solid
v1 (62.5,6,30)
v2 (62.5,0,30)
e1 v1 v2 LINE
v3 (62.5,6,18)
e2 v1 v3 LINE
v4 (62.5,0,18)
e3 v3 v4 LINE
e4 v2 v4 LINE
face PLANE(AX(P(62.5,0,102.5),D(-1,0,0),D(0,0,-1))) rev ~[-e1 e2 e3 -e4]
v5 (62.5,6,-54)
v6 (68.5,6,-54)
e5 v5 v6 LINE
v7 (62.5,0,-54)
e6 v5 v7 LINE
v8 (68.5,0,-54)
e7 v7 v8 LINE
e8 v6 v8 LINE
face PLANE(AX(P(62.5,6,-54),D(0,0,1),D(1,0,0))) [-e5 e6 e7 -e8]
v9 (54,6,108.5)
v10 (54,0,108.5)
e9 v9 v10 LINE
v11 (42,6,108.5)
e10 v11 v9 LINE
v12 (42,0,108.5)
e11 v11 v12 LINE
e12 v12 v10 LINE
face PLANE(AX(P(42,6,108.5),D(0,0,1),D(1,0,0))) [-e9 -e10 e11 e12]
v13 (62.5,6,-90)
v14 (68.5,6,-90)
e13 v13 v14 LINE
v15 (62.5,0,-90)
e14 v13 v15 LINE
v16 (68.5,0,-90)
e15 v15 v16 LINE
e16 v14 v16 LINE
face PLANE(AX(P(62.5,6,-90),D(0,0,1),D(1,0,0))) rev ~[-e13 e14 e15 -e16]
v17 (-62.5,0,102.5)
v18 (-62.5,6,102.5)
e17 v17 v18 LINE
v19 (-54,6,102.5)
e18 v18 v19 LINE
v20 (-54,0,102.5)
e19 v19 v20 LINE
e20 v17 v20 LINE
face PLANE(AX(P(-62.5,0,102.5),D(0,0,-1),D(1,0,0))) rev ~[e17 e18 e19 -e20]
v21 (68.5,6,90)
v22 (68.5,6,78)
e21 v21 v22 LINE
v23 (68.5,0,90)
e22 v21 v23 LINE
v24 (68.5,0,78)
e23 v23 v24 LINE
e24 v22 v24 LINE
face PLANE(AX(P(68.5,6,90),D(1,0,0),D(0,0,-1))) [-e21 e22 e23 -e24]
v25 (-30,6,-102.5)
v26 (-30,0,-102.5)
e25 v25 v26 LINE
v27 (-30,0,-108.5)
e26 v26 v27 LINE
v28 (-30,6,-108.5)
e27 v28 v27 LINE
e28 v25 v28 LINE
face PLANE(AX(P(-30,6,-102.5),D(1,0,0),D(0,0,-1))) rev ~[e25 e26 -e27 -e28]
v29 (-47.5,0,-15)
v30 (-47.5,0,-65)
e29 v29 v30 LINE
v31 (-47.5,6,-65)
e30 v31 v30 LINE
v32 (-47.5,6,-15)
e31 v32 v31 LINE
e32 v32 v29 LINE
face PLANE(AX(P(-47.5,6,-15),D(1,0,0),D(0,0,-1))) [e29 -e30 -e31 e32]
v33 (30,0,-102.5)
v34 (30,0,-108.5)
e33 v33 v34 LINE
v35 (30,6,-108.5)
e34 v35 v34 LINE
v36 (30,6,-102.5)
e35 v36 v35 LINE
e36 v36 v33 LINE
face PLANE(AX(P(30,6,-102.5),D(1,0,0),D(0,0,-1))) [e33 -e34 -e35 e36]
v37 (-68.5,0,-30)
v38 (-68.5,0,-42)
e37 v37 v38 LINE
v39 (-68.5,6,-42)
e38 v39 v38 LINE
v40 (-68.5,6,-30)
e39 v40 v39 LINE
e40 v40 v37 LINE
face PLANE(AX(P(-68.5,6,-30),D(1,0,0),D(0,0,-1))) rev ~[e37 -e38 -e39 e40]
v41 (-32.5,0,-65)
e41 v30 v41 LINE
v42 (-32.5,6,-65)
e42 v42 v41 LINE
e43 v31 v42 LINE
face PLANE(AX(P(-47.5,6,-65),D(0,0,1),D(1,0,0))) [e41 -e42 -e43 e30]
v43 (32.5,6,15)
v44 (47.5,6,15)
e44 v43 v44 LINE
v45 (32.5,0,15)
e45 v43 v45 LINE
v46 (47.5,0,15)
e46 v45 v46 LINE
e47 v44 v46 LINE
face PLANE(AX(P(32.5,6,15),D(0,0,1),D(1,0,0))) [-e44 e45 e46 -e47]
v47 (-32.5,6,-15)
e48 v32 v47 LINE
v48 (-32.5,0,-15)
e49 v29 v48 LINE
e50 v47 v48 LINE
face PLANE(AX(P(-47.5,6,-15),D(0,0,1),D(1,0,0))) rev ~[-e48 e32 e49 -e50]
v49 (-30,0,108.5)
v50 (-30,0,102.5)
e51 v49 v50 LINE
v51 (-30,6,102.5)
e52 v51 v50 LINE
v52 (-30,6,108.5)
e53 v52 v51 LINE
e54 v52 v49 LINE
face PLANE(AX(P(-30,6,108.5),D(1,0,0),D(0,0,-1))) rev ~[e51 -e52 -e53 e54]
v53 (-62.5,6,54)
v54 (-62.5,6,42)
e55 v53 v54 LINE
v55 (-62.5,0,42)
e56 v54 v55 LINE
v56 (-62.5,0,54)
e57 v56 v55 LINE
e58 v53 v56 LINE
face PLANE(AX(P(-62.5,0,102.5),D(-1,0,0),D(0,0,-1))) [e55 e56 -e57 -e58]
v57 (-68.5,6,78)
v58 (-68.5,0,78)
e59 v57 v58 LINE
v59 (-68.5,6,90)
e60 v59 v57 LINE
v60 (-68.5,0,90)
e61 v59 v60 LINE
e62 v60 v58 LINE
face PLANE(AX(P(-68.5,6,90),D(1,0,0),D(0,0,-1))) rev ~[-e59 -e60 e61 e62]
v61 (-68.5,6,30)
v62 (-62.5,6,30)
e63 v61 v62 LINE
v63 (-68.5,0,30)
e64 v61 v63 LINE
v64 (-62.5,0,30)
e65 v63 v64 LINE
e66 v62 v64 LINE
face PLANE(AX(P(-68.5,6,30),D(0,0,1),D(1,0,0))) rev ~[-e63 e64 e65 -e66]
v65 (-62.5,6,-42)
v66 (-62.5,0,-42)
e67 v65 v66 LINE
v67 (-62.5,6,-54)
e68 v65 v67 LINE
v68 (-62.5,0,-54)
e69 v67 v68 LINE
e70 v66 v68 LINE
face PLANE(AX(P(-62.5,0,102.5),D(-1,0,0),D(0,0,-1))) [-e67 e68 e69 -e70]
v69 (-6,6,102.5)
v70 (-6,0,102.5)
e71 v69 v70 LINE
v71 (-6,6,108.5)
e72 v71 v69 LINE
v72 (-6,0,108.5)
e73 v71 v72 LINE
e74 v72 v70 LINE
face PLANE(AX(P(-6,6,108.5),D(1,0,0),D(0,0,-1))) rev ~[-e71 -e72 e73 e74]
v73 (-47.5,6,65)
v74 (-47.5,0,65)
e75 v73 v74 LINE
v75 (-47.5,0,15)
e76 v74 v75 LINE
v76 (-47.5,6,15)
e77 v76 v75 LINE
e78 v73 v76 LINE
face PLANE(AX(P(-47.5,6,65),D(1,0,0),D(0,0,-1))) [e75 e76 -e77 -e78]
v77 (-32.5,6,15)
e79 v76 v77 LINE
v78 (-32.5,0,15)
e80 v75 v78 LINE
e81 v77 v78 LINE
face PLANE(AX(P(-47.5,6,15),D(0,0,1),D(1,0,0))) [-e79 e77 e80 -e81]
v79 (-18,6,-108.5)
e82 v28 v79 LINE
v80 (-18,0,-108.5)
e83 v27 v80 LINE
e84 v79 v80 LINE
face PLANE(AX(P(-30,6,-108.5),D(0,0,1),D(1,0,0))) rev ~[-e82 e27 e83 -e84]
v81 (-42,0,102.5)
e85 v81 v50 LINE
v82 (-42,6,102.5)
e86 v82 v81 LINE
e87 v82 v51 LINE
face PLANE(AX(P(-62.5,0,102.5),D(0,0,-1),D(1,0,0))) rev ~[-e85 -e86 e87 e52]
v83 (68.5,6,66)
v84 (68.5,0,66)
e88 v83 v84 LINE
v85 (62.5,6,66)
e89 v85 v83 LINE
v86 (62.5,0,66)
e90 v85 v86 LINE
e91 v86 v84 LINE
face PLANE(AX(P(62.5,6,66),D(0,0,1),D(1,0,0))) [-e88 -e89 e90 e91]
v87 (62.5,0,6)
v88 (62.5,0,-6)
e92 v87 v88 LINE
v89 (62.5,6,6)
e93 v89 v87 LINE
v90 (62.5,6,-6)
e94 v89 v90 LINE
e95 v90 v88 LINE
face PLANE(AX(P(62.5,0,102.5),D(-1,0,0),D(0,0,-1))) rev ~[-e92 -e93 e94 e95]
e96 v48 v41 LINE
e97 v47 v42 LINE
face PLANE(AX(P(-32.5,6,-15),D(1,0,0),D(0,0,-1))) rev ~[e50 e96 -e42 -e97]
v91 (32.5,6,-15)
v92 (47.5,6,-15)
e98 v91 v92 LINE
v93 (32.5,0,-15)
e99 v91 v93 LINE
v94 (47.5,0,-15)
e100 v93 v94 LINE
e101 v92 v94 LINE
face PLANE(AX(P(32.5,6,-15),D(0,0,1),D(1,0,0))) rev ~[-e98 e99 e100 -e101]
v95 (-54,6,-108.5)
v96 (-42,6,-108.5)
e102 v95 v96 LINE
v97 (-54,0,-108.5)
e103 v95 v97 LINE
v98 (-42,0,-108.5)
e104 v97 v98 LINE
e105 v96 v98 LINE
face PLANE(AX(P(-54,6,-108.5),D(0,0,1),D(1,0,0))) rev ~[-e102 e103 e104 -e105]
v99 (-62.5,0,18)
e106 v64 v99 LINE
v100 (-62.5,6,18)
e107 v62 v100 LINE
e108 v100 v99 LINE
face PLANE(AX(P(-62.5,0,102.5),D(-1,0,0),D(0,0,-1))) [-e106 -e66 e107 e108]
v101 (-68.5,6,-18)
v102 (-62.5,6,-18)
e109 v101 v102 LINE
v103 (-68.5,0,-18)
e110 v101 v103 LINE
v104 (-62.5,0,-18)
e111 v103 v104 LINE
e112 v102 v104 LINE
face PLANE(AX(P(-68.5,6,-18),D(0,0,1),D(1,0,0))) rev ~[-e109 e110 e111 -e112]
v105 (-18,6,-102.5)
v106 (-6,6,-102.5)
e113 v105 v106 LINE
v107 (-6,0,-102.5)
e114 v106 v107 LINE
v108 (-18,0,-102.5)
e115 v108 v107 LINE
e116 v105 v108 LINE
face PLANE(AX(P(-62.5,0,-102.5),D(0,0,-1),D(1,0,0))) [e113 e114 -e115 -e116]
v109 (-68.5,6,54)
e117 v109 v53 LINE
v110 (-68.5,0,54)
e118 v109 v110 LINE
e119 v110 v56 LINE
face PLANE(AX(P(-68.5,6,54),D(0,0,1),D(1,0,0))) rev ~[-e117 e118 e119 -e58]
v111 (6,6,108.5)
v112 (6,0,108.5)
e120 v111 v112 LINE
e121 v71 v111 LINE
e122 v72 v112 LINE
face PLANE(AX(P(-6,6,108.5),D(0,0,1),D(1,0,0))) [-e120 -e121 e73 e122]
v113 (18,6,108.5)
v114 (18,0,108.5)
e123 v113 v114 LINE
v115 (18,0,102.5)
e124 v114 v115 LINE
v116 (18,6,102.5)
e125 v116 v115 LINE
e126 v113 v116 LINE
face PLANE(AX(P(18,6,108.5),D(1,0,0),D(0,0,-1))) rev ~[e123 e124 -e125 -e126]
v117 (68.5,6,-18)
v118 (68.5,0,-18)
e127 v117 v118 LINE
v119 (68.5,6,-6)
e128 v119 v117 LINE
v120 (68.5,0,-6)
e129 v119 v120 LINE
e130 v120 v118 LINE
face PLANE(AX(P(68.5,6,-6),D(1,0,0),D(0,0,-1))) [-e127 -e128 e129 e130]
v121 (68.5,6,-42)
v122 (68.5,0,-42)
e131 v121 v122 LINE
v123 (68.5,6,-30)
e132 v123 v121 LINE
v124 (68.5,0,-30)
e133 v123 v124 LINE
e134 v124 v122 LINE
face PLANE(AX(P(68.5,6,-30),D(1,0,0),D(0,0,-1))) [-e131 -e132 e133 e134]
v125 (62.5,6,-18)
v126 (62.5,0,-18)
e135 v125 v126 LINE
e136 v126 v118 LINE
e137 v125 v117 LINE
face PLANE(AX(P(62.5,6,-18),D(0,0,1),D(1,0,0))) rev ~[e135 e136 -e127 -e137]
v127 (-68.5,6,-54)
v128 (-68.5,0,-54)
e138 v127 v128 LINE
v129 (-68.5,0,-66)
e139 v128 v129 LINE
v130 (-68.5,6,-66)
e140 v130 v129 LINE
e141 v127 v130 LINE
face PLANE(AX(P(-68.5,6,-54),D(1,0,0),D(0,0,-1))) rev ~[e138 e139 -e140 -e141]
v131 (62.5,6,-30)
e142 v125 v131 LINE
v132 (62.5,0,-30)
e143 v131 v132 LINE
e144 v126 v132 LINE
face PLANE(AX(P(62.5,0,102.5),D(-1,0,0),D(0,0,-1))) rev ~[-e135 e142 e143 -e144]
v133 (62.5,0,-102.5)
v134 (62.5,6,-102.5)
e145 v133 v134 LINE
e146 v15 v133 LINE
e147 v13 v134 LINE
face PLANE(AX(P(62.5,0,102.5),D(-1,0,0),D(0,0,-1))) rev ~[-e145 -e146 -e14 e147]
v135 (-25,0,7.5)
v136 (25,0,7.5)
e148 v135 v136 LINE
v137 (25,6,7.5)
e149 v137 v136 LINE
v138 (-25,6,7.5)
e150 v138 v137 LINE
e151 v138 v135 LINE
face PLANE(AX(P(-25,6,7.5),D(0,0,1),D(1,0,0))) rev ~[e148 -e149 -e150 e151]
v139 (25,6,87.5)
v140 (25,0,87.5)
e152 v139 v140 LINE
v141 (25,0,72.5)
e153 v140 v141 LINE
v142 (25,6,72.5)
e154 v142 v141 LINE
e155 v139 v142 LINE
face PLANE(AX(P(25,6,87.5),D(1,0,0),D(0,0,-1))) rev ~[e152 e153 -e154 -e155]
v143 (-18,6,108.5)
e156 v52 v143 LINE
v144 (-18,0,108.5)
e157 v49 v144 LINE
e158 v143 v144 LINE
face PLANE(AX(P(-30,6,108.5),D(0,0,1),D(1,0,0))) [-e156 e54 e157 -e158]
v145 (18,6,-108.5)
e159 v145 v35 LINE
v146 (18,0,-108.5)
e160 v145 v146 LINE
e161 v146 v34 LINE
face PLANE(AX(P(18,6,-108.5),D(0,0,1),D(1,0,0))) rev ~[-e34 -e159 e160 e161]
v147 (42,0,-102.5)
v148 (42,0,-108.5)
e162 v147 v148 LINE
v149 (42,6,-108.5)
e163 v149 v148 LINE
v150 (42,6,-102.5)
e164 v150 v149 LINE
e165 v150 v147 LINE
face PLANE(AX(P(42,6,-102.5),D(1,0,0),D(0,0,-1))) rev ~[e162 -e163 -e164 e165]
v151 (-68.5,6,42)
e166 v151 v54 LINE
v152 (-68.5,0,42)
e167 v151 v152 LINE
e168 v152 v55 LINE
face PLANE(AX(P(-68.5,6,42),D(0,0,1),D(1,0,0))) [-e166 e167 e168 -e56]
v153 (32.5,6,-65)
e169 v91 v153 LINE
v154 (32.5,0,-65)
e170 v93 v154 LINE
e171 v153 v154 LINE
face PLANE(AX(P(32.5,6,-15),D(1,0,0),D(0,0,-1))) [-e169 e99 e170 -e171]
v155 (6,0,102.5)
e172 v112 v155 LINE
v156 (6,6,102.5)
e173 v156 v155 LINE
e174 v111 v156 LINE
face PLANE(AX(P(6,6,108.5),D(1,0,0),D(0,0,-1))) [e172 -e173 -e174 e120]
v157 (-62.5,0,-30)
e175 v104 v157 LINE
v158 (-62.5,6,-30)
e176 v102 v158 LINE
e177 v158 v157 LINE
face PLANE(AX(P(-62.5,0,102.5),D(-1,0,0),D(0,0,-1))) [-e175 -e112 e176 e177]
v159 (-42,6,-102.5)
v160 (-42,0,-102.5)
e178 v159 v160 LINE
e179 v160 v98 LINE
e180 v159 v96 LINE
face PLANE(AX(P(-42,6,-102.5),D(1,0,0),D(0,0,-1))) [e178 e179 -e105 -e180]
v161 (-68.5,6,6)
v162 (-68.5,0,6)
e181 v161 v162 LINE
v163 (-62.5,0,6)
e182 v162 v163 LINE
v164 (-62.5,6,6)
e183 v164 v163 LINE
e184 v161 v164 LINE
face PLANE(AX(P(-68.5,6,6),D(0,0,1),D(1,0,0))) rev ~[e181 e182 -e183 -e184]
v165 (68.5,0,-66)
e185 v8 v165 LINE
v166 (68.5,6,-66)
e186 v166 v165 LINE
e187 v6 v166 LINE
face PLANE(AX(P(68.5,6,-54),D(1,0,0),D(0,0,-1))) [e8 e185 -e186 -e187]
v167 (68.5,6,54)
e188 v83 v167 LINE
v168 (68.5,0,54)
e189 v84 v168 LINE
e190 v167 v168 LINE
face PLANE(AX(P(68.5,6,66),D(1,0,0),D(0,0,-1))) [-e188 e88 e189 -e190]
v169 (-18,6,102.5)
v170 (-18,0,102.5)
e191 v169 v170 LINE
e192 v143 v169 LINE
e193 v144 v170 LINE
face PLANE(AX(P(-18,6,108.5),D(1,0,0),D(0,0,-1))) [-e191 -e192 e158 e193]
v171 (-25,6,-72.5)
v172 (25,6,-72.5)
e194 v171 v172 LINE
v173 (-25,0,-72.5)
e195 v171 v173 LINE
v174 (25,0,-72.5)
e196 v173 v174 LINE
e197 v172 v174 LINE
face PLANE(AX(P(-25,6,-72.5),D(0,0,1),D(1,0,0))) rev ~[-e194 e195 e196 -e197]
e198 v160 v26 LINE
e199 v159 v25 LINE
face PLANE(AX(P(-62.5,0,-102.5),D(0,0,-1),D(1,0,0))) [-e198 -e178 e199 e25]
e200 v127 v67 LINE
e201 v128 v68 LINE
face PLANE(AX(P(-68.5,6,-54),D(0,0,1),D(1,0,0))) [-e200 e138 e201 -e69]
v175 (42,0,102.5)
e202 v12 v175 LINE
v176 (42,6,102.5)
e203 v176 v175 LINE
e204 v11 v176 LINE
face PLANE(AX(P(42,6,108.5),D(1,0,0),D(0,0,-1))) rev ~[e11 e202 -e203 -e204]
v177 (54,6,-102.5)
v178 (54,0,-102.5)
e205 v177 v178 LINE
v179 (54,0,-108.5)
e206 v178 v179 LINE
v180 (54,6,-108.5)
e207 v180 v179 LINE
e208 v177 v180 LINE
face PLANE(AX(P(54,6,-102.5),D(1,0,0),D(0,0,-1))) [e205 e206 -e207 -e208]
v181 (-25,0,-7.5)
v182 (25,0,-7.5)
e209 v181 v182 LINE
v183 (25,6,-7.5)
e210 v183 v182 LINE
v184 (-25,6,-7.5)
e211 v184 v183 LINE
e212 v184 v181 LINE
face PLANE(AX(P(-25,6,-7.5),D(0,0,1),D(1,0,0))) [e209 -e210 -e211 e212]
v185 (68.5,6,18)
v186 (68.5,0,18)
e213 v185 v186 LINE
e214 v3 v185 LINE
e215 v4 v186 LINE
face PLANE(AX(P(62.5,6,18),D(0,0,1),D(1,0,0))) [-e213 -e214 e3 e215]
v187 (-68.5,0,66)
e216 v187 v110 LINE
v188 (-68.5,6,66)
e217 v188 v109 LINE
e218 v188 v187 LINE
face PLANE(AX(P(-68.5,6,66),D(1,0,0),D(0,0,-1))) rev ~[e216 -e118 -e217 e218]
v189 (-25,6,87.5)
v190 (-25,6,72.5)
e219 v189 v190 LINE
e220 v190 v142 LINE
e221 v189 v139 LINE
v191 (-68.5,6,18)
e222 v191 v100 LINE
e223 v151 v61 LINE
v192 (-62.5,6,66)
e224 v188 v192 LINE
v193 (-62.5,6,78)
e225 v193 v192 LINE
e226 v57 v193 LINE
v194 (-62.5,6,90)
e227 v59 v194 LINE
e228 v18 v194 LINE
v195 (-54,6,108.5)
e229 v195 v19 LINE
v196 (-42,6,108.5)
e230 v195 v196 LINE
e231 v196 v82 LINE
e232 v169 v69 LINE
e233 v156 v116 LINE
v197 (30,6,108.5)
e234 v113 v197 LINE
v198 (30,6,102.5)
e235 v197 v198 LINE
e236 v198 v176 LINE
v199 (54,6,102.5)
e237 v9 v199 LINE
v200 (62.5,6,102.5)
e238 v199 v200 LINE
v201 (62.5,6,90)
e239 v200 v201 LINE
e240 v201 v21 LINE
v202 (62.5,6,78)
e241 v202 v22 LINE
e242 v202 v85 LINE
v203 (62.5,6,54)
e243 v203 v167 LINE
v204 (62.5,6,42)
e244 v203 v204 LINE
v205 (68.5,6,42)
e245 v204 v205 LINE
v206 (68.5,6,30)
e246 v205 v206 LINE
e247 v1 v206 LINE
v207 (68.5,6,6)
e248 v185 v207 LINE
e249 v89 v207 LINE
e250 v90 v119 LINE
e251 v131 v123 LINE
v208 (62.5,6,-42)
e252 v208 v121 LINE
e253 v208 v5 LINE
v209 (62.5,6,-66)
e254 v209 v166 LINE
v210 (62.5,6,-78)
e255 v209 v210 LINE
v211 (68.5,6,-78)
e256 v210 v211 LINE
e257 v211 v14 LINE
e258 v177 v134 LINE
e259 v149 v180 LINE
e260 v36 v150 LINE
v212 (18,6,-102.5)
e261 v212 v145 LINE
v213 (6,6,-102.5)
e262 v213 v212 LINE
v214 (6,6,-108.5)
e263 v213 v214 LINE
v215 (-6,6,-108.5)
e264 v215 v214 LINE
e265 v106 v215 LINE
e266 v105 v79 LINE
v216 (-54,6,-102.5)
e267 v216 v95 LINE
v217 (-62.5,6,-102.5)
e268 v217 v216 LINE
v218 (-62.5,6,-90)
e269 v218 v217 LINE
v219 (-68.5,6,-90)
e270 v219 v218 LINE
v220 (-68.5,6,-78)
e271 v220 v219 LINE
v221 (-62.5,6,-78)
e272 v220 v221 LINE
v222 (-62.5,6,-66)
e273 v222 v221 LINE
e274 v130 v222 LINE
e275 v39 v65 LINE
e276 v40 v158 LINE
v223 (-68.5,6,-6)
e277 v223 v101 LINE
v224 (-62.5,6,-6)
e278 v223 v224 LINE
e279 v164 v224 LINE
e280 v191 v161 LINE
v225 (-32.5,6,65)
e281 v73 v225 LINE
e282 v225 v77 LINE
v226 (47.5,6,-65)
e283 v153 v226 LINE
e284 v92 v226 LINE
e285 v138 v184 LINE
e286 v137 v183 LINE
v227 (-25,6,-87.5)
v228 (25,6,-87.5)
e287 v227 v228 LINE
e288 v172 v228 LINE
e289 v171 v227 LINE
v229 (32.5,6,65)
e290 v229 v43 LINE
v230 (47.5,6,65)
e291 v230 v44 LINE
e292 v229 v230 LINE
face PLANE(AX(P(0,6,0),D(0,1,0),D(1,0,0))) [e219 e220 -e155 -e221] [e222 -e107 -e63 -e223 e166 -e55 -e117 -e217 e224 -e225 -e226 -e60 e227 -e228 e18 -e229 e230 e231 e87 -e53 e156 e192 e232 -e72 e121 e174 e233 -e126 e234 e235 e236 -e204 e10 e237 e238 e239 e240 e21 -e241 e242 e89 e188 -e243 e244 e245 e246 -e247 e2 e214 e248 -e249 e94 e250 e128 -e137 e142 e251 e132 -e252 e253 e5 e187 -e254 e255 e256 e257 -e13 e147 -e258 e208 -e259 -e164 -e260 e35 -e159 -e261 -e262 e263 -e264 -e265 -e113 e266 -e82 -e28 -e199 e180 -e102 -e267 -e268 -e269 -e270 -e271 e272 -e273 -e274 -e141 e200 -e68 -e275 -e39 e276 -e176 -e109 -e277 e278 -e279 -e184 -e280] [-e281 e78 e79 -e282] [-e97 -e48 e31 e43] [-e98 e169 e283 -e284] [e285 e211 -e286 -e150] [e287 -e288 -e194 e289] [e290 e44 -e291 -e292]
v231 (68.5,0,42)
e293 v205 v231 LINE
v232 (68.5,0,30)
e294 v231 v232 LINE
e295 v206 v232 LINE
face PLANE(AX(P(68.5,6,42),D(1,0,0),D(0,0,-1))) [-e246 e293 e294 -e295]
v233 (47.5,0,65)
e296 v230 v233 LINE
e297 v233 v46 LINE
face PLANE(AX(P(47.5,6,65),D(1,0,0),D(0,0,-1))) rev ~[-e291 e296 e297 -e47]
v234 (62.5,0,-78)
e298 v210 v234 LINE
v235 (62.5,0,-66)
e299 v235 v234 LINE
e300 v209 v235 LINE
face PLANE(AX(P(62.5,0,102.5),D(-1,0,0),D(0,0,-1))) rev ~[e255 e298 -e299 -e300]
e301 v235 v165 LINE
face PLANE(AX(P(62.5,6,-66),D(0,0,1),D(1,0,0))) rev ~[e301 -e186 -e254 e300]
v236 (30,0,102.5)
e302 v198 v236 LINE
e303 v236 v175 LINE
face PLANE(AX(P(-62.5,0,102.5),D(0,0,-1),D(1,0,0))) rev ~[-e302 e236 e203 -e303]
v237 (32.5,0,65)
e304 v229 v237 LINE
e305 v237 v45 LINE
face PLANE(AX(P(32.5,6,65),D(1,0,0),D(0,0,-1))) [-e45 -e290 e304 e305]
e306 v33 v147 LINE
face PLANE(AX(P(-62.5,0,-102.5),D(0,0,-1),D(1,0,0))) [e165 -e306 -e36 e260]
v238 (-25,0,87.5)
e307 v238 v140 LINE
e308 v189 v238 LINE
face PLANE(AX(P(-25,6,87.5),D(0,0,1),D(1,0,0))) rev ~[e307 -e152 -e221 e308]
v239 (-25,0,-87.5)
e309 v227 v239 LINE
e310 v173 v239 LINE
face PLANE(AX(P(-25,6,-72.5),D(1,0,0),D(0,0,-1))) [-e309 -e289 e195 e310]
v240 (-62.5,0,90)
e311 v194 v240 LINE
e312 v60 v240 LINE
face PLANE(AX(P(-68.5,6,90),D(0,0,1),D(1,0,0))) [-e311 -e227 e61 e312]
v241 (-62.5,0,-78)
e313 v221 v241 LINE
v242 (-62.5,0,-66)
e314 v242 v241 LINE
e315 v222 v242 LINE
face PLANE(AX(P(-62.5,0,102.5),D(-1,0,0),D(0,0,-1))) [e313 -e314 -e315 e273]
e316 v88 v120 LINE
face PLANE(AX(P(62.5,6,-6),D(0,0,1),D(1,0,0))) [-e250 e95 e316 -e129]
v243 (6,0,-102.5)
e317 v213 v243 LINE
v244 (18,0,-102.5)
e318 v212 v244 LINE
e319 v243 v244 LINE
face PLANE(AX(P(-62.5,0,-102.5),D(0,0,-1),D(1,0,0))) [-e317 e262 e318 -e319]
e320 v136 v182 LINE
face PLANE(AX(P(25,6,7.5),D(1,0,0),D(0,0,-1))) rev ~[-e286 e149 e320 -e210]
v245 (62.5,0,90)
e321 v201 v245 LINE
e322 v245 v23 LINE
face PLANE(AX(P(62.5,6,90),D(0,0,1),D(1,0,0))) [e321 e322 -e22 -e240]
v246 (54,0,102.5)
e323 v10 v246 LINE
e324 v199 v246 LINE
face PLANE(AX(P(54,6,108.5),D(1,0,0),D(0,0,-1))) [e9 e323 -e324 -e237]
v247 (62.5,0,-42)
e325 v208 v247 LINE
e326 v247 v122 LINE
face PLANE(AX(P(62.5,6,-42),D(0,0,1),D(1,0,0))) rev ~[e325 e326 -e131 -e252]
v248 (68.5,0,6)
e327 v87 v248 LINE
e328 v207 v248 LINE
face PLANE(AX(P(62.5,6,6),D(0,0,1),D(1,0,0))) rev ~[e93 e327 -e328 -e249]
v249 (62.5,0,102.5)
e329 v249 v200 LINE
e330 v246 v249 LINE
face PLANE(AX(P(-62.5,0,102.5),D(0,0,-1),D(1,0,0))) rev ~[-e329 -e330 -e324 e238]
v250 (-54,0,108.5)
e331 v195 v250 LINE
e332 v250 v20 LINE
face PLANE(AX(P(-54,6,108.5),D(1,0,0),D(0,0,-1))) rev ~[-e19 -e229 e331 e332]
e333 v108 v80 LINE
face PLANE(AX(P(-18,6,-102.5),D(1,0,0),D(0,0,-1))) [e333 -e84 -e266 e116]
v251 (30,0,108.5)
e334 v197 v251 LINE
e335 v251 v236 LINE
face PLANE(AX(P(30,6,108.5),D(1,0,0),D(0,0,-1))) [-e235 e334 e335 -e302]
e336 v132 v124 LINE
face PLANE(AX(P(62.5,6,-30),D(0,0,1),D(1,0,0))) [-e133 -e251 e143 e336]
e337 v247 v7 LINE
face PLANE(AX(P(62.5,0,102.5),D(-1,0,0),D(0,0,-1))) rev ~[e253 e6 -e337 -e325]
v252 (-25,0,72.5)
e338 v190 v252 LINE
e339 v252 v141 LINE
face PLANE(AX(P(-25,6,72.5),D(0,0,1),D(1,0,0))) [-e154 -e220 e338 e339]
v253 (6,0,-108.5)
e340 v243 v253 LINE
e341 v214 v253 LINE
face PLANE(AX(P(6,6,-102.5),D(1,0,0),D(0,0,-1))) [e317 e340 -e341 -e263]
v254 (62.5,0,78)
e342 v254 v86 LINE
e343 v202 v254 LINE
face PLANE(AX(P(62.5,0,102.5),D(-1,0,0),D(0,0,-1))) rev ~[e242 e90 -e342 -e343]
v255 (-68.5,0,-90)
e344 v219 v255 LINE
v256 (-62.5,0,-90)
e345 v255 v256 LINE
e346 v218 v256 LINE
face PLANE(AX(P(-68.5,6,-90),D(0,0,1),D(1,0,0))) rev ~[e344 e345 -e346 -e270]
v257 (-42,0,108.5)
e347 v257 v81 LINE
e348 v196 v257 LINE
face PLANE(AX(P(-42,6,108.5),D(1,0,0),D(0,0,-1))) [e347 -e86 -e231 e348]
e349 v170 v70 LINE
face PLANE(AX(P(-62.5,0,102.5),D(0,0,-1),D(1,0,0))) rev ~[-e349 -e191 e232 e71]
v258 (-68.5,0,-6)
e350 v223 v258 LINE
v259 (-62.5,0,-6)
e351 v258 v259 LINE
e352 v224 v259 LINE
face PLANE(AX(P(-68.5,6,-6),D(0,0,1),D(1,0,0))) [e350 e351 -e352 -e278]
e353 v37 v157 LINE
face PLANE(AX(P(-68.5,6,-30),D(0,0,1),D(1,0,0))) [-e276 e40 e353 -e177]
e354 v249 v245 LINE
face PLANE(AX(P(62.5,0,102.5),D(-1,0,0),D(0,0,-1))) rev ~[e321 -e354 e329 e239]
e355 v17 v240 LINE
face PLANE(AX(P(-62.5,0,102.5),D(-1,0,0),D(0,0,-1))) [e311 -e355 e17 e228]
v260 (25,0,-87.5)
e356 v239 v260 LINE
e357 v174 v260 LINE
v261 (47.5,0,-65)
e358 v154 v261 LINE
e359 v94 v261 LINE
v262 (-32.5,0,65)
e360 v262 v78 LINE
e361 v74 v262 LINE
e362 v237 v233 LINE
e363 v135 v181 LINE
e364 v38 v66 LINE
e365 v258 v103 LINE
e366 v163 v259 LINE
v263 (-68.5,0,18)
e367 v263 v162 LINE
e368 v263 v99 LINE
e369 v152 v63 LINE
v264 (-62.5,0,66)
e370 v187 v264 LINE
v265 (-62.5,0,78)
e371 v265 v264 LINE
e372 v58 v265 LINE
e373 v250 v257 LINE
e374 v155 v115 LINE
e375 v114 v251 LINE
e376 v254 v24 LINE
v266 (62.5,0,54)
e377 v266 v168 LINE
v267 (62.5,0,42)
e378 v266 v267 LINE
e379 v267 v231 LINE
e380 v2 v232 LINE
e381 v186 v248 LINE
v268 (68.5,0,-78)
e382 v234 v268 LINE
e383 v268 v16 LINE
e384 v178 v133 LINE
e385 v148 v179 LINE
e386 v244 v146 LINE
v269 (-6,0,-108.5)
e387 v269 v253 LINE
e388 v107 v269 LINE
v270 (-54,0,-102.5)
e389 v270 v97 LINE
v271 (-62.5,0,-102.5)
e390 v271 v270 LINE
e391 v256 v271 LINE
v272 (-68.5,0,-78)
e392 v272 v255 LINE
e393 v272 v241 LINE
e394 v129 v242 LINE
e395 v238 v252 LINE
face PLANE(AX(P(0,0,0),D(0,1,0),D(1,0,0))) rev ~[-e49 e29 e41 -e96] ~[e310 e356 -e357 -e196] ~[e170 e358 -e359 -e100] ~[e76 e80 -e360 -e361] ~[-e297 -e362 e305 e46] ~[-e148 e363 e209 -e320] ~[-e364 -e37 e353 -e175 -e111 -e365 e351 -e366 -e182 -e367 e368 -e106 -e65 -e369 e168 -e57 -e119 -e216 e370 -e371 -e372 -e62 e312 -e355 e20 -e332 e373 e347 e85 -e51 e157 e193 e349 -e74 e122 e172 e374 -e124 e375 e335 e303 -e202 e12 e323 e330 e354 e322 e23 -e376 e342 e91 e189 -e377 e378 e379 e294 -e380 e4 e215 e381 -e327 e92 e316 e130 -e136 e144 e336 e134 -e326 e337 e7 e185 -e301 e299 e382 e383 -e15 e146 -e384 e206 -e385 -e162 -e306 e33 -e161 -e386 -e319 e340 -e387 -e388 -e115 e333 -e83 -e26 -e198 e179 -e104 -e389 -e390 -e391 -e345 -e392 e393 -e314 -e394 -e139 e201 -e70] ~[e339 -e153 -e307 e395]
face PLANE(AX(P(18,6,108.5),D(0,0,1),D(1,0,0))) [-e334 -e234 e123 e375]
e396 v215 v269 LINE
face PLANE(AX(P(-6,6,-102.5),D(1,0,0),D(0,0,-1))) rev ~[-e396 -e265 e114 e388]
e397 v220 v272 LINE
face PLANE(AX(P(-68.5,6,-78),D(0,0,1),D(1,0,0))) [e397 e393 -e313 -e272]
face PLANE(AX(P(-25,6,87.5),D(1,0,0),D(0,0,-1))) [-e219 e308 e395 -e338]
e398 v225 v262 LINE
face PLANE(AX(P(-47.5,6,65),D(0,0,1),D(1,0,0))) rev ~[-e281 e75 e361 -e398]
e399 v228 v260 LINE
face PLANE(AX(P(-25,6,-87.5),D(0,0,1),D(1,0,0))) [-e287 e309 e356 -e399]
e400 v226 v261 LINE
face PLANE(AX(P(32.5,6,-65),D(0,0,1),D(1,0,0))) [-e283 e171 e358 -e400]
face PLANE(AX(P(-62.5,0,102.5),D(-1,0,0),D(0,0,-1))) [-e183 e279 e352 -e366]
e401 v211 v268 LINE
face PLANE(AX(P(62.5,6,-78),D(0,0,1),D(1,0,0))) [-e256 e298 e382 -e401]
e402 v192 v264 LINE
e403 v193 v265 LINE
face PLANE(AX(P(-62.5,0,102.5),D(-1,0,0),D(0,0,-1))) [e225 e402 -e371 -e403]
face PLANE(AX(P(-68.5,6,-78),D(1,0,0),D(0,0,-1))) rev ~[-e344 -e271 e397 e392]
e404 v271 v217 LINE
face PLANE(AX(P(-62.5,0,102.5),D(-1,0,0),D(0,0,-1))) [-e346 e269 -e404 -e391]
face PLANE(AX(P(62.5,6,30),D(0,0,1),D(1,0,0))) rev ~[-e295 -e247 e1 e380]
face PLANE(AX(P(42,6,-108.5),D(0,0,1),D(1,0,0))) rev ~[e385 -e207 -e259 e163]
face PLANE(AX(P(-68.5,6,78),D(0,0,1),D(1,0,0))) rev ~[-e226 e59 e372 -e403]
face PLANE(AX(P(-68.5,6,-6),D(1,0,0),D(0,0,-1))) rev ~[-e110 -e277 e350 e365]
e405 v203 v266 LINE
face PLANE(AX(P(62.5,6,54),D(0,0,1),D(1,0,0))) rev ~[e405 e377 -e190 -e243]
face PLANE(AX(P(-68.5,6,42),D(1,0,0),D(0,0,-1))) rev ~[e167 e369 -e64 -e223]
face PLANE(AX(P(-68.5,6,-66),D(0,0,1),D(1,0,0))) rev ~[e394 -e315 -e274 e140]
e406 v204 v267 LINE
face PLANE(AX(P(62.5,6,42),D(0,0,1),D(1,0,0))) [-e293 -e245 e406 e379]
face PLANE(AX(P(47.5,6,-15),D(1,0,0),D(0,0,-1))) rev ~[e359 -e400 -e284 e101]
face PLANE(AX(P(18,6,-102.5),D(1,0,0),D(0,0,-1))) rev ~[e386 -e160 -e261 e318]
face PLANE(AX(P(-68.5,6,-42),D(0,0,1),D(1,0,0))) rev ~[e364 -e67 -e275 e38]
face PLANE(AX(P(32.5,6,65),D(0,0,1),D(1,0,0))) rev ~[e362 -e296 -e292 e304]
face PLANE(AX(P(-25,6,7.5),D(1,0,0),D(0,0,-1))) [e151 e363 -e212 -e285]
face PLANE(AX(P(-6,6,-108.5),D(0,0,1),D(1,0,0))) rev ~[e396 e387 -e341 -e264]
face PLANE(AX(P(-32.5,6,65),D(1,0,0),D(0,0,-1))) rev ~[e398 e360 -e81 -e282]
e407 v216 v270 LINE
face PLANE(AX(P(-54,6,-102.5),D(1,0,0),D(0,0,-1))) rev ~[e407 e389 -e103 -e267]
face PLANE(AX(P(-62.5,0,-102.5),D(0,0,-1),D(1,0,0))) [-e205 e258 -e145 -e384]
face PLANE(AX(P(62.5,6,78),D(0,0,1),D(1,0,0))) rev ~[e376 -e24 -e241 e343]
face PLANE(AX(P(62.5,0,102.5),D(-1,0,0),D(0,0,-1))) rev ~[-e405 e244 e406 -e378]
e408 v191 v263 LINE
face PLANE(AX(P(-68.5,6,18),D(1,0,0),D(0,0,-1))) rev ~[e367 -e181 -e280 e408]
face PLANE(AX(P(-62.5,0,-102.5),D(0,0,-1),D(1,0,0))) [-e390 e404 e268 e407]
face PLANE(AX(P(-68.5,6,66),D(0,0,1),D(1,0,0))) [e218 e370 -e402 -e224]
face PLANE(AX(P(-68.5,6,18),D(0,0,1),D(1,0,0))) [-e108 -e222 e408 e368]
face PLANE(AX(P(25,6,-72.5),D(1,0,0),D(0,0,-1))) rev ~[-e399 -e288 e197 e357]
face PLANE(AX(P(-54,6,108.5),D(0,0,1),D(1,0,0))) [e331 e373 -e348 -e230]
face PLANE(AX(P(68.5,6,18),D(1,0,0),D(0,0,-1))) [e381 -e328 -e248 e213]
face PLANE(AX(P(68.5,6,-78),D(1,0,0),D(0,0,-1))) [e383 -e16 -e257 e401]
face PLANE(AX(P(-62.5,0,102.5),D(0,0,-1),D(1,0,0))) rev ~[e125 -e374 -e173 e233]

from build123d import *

# Parameters (mm, degrees)
SKETCH3_W           = 125
SKETCH3_H           = 205
BOSS_EXTRUDE1_DEPTH = 6
SKETCH4_W           = 15
SKETCH4_H           = 50
SKETCH4_W_2         = 50
SKETCH4_H_2         = 15
CUT_EXTRUDE1_DEPTH  = 6
SKETCH5_W           = 12
SKETCH5_H           = 6
SKETCH5_W_2         = 6
SKETCH5_H_2         = 12
BOSS_EXTRUDE2_DEPTH = 6


with BuildPart() as part:
    # Sketch3 → Boss-Extrude1 (new body)
    with BuildSketch(Plane(origin=(0, 0, 0), x_dir=(1, 0, 0), z_dir=(0, 1, 0))):
        Rectangle(SKETCH3_W, SKETCH3_H)
    extrude(amount=BOSS_EXTRUDE1_DEPTH)

    # Sketch4 → Cut-Extrude1 (cut)
    with BuildSketch(Plane(origin=(0, 6, 0), x_dir=(1, 0, 0), z_dir=(0, 1, 0))):
        with Locations((-40, 40)):
            Rectangle(SKETCH4_W, SKETCH4_H)
        with Locations((40, 40)):
            Rectangle(SKETCH4_W, SKETCH4_H)
        Rectangle(SKETCH4_W_2, SKETCH4_H_2)
        with Locations((-40, -40)):
            Rectangle(SKETCH4_W, SKETCH4_H)
        with Locations((40, -40)):
            Rectangle(SKETCH4_W, SKETCH4_H)
        with Locations((0, 80)):
            Rectangle(SKETCH4_W_2, SKETCH4_H_2)
        with Locations((0, -80)):
            Rectangle(SKETCH4_W_2, SKETCH4_H_2)
    extrude(amount=-CUT_EXTRUDE1_DEPTH, mode=Mode.SUBTRACT)

    # Sketch5 → Boss-Extrude2 (add)
    with BuildSketch(Plane(origin=(0, 6, 0), x_dir=(1, 0, 0), z_dir=(0, 1, 0))):
        with Locations((24, -105.5)):
            Rectangle(SKETCH5_W, SKETCH5_H)
        with Locations((0, -105.5)):
            Rectangle(SKETCH5_W, SKETCH5_H)
        with Locations((-65.5, -84)):
            Rectangle(SKETCH5_W_2, SKETCH5_H_2)
        with Locations((-65.5, -60)):
            Rectangle(SKETCH5_W_2, SKETCH5_H_2)
        with Locations((-65.5, -12)):
            Rectangle(SKETCH5_W_2, SKETCH5_H_2)
        with Locations((65.5, -84)):
            Rectangle(SKETCH5_W_2, SKETCH5_H_2)
        with Locations((65.5, -36)):
            Rectangle(SKETCH5_W_2, SKETCH5_H_2)
        with Locations((65.5, -12)):
            Rectangle(SKETCH5_W_2, SKETCH5_H_2)
        with Locations((65.5, 12)):
            Rectangle(SKETCH5_W_2, SKETCH5_H_2)
        with Locations((65.5, 36)):
            Rectangle(SKETCH5_W_2, SKETCH5_H_2)
        with Locations((65.5, 84)):
            Rectangle(SKETCH5_W_2, SKETCH5_H_2)
        with Locations((24, 105.5)):
            Rectangle(SKETCH5_W, SKETCH5_H)
        with Locations((0, 105.5)):
            Rectangle(SKETCH5_W, SKETCH5_H)
        with Locations((-24, 105.5)):
            Rectangle(SKETCH5_W, SKETCH5_H)
        with Locations((-48, 105.5)):
            Rectangle(SKETCH5_W, SKETCH5_H)
        with Locations((-65.5, 36)):
            Rectangle(SKETCH5_W_2, SKETCH5_H_2)
        with Locations((-65.5, 12)):
            Rectangle(SKETCH5_W_2, SKETCH5_H_2)
        with Locations((48, -105.5)):
            Rectangle(SKETCH5_W, SKETCH5_H)
        with Locations((-24, -105.5)):
            Rectangle(SKETCH5_W, SKETCH5_H)
        with Locations((-48, -105.5)):
            Rectangle(SKETCH5_W, SKETCH5_H)
        with Locations((-65.5, -36)):
            Rectangle(SKETCH5_W_2, SKETCH5_H_2)
        with Locations((65.5, -60)):
            Rectangle(SKETCH5_W_2, SKETCH5_H_2)
        with Locations((65.5, 60)):
            Rectangle(SKETCH5_W_2, SKETCH5_H_2)
        with Locations((48, 105.5)):
            Rectangle(SKETCH5_W, SKETCH5_H)
        with Locations((-65.5, 84)):
            Rectangle(SKETCH5_W_2, SKETCH5_H_2)
        with Locations((-65.5, 60)):
            Rectangle(SKETCH5_W_2, SKETCH5_H_2)
    extrude(amount=-BOSS_EXTRUDE2_DEPTH)


solid = part.part
